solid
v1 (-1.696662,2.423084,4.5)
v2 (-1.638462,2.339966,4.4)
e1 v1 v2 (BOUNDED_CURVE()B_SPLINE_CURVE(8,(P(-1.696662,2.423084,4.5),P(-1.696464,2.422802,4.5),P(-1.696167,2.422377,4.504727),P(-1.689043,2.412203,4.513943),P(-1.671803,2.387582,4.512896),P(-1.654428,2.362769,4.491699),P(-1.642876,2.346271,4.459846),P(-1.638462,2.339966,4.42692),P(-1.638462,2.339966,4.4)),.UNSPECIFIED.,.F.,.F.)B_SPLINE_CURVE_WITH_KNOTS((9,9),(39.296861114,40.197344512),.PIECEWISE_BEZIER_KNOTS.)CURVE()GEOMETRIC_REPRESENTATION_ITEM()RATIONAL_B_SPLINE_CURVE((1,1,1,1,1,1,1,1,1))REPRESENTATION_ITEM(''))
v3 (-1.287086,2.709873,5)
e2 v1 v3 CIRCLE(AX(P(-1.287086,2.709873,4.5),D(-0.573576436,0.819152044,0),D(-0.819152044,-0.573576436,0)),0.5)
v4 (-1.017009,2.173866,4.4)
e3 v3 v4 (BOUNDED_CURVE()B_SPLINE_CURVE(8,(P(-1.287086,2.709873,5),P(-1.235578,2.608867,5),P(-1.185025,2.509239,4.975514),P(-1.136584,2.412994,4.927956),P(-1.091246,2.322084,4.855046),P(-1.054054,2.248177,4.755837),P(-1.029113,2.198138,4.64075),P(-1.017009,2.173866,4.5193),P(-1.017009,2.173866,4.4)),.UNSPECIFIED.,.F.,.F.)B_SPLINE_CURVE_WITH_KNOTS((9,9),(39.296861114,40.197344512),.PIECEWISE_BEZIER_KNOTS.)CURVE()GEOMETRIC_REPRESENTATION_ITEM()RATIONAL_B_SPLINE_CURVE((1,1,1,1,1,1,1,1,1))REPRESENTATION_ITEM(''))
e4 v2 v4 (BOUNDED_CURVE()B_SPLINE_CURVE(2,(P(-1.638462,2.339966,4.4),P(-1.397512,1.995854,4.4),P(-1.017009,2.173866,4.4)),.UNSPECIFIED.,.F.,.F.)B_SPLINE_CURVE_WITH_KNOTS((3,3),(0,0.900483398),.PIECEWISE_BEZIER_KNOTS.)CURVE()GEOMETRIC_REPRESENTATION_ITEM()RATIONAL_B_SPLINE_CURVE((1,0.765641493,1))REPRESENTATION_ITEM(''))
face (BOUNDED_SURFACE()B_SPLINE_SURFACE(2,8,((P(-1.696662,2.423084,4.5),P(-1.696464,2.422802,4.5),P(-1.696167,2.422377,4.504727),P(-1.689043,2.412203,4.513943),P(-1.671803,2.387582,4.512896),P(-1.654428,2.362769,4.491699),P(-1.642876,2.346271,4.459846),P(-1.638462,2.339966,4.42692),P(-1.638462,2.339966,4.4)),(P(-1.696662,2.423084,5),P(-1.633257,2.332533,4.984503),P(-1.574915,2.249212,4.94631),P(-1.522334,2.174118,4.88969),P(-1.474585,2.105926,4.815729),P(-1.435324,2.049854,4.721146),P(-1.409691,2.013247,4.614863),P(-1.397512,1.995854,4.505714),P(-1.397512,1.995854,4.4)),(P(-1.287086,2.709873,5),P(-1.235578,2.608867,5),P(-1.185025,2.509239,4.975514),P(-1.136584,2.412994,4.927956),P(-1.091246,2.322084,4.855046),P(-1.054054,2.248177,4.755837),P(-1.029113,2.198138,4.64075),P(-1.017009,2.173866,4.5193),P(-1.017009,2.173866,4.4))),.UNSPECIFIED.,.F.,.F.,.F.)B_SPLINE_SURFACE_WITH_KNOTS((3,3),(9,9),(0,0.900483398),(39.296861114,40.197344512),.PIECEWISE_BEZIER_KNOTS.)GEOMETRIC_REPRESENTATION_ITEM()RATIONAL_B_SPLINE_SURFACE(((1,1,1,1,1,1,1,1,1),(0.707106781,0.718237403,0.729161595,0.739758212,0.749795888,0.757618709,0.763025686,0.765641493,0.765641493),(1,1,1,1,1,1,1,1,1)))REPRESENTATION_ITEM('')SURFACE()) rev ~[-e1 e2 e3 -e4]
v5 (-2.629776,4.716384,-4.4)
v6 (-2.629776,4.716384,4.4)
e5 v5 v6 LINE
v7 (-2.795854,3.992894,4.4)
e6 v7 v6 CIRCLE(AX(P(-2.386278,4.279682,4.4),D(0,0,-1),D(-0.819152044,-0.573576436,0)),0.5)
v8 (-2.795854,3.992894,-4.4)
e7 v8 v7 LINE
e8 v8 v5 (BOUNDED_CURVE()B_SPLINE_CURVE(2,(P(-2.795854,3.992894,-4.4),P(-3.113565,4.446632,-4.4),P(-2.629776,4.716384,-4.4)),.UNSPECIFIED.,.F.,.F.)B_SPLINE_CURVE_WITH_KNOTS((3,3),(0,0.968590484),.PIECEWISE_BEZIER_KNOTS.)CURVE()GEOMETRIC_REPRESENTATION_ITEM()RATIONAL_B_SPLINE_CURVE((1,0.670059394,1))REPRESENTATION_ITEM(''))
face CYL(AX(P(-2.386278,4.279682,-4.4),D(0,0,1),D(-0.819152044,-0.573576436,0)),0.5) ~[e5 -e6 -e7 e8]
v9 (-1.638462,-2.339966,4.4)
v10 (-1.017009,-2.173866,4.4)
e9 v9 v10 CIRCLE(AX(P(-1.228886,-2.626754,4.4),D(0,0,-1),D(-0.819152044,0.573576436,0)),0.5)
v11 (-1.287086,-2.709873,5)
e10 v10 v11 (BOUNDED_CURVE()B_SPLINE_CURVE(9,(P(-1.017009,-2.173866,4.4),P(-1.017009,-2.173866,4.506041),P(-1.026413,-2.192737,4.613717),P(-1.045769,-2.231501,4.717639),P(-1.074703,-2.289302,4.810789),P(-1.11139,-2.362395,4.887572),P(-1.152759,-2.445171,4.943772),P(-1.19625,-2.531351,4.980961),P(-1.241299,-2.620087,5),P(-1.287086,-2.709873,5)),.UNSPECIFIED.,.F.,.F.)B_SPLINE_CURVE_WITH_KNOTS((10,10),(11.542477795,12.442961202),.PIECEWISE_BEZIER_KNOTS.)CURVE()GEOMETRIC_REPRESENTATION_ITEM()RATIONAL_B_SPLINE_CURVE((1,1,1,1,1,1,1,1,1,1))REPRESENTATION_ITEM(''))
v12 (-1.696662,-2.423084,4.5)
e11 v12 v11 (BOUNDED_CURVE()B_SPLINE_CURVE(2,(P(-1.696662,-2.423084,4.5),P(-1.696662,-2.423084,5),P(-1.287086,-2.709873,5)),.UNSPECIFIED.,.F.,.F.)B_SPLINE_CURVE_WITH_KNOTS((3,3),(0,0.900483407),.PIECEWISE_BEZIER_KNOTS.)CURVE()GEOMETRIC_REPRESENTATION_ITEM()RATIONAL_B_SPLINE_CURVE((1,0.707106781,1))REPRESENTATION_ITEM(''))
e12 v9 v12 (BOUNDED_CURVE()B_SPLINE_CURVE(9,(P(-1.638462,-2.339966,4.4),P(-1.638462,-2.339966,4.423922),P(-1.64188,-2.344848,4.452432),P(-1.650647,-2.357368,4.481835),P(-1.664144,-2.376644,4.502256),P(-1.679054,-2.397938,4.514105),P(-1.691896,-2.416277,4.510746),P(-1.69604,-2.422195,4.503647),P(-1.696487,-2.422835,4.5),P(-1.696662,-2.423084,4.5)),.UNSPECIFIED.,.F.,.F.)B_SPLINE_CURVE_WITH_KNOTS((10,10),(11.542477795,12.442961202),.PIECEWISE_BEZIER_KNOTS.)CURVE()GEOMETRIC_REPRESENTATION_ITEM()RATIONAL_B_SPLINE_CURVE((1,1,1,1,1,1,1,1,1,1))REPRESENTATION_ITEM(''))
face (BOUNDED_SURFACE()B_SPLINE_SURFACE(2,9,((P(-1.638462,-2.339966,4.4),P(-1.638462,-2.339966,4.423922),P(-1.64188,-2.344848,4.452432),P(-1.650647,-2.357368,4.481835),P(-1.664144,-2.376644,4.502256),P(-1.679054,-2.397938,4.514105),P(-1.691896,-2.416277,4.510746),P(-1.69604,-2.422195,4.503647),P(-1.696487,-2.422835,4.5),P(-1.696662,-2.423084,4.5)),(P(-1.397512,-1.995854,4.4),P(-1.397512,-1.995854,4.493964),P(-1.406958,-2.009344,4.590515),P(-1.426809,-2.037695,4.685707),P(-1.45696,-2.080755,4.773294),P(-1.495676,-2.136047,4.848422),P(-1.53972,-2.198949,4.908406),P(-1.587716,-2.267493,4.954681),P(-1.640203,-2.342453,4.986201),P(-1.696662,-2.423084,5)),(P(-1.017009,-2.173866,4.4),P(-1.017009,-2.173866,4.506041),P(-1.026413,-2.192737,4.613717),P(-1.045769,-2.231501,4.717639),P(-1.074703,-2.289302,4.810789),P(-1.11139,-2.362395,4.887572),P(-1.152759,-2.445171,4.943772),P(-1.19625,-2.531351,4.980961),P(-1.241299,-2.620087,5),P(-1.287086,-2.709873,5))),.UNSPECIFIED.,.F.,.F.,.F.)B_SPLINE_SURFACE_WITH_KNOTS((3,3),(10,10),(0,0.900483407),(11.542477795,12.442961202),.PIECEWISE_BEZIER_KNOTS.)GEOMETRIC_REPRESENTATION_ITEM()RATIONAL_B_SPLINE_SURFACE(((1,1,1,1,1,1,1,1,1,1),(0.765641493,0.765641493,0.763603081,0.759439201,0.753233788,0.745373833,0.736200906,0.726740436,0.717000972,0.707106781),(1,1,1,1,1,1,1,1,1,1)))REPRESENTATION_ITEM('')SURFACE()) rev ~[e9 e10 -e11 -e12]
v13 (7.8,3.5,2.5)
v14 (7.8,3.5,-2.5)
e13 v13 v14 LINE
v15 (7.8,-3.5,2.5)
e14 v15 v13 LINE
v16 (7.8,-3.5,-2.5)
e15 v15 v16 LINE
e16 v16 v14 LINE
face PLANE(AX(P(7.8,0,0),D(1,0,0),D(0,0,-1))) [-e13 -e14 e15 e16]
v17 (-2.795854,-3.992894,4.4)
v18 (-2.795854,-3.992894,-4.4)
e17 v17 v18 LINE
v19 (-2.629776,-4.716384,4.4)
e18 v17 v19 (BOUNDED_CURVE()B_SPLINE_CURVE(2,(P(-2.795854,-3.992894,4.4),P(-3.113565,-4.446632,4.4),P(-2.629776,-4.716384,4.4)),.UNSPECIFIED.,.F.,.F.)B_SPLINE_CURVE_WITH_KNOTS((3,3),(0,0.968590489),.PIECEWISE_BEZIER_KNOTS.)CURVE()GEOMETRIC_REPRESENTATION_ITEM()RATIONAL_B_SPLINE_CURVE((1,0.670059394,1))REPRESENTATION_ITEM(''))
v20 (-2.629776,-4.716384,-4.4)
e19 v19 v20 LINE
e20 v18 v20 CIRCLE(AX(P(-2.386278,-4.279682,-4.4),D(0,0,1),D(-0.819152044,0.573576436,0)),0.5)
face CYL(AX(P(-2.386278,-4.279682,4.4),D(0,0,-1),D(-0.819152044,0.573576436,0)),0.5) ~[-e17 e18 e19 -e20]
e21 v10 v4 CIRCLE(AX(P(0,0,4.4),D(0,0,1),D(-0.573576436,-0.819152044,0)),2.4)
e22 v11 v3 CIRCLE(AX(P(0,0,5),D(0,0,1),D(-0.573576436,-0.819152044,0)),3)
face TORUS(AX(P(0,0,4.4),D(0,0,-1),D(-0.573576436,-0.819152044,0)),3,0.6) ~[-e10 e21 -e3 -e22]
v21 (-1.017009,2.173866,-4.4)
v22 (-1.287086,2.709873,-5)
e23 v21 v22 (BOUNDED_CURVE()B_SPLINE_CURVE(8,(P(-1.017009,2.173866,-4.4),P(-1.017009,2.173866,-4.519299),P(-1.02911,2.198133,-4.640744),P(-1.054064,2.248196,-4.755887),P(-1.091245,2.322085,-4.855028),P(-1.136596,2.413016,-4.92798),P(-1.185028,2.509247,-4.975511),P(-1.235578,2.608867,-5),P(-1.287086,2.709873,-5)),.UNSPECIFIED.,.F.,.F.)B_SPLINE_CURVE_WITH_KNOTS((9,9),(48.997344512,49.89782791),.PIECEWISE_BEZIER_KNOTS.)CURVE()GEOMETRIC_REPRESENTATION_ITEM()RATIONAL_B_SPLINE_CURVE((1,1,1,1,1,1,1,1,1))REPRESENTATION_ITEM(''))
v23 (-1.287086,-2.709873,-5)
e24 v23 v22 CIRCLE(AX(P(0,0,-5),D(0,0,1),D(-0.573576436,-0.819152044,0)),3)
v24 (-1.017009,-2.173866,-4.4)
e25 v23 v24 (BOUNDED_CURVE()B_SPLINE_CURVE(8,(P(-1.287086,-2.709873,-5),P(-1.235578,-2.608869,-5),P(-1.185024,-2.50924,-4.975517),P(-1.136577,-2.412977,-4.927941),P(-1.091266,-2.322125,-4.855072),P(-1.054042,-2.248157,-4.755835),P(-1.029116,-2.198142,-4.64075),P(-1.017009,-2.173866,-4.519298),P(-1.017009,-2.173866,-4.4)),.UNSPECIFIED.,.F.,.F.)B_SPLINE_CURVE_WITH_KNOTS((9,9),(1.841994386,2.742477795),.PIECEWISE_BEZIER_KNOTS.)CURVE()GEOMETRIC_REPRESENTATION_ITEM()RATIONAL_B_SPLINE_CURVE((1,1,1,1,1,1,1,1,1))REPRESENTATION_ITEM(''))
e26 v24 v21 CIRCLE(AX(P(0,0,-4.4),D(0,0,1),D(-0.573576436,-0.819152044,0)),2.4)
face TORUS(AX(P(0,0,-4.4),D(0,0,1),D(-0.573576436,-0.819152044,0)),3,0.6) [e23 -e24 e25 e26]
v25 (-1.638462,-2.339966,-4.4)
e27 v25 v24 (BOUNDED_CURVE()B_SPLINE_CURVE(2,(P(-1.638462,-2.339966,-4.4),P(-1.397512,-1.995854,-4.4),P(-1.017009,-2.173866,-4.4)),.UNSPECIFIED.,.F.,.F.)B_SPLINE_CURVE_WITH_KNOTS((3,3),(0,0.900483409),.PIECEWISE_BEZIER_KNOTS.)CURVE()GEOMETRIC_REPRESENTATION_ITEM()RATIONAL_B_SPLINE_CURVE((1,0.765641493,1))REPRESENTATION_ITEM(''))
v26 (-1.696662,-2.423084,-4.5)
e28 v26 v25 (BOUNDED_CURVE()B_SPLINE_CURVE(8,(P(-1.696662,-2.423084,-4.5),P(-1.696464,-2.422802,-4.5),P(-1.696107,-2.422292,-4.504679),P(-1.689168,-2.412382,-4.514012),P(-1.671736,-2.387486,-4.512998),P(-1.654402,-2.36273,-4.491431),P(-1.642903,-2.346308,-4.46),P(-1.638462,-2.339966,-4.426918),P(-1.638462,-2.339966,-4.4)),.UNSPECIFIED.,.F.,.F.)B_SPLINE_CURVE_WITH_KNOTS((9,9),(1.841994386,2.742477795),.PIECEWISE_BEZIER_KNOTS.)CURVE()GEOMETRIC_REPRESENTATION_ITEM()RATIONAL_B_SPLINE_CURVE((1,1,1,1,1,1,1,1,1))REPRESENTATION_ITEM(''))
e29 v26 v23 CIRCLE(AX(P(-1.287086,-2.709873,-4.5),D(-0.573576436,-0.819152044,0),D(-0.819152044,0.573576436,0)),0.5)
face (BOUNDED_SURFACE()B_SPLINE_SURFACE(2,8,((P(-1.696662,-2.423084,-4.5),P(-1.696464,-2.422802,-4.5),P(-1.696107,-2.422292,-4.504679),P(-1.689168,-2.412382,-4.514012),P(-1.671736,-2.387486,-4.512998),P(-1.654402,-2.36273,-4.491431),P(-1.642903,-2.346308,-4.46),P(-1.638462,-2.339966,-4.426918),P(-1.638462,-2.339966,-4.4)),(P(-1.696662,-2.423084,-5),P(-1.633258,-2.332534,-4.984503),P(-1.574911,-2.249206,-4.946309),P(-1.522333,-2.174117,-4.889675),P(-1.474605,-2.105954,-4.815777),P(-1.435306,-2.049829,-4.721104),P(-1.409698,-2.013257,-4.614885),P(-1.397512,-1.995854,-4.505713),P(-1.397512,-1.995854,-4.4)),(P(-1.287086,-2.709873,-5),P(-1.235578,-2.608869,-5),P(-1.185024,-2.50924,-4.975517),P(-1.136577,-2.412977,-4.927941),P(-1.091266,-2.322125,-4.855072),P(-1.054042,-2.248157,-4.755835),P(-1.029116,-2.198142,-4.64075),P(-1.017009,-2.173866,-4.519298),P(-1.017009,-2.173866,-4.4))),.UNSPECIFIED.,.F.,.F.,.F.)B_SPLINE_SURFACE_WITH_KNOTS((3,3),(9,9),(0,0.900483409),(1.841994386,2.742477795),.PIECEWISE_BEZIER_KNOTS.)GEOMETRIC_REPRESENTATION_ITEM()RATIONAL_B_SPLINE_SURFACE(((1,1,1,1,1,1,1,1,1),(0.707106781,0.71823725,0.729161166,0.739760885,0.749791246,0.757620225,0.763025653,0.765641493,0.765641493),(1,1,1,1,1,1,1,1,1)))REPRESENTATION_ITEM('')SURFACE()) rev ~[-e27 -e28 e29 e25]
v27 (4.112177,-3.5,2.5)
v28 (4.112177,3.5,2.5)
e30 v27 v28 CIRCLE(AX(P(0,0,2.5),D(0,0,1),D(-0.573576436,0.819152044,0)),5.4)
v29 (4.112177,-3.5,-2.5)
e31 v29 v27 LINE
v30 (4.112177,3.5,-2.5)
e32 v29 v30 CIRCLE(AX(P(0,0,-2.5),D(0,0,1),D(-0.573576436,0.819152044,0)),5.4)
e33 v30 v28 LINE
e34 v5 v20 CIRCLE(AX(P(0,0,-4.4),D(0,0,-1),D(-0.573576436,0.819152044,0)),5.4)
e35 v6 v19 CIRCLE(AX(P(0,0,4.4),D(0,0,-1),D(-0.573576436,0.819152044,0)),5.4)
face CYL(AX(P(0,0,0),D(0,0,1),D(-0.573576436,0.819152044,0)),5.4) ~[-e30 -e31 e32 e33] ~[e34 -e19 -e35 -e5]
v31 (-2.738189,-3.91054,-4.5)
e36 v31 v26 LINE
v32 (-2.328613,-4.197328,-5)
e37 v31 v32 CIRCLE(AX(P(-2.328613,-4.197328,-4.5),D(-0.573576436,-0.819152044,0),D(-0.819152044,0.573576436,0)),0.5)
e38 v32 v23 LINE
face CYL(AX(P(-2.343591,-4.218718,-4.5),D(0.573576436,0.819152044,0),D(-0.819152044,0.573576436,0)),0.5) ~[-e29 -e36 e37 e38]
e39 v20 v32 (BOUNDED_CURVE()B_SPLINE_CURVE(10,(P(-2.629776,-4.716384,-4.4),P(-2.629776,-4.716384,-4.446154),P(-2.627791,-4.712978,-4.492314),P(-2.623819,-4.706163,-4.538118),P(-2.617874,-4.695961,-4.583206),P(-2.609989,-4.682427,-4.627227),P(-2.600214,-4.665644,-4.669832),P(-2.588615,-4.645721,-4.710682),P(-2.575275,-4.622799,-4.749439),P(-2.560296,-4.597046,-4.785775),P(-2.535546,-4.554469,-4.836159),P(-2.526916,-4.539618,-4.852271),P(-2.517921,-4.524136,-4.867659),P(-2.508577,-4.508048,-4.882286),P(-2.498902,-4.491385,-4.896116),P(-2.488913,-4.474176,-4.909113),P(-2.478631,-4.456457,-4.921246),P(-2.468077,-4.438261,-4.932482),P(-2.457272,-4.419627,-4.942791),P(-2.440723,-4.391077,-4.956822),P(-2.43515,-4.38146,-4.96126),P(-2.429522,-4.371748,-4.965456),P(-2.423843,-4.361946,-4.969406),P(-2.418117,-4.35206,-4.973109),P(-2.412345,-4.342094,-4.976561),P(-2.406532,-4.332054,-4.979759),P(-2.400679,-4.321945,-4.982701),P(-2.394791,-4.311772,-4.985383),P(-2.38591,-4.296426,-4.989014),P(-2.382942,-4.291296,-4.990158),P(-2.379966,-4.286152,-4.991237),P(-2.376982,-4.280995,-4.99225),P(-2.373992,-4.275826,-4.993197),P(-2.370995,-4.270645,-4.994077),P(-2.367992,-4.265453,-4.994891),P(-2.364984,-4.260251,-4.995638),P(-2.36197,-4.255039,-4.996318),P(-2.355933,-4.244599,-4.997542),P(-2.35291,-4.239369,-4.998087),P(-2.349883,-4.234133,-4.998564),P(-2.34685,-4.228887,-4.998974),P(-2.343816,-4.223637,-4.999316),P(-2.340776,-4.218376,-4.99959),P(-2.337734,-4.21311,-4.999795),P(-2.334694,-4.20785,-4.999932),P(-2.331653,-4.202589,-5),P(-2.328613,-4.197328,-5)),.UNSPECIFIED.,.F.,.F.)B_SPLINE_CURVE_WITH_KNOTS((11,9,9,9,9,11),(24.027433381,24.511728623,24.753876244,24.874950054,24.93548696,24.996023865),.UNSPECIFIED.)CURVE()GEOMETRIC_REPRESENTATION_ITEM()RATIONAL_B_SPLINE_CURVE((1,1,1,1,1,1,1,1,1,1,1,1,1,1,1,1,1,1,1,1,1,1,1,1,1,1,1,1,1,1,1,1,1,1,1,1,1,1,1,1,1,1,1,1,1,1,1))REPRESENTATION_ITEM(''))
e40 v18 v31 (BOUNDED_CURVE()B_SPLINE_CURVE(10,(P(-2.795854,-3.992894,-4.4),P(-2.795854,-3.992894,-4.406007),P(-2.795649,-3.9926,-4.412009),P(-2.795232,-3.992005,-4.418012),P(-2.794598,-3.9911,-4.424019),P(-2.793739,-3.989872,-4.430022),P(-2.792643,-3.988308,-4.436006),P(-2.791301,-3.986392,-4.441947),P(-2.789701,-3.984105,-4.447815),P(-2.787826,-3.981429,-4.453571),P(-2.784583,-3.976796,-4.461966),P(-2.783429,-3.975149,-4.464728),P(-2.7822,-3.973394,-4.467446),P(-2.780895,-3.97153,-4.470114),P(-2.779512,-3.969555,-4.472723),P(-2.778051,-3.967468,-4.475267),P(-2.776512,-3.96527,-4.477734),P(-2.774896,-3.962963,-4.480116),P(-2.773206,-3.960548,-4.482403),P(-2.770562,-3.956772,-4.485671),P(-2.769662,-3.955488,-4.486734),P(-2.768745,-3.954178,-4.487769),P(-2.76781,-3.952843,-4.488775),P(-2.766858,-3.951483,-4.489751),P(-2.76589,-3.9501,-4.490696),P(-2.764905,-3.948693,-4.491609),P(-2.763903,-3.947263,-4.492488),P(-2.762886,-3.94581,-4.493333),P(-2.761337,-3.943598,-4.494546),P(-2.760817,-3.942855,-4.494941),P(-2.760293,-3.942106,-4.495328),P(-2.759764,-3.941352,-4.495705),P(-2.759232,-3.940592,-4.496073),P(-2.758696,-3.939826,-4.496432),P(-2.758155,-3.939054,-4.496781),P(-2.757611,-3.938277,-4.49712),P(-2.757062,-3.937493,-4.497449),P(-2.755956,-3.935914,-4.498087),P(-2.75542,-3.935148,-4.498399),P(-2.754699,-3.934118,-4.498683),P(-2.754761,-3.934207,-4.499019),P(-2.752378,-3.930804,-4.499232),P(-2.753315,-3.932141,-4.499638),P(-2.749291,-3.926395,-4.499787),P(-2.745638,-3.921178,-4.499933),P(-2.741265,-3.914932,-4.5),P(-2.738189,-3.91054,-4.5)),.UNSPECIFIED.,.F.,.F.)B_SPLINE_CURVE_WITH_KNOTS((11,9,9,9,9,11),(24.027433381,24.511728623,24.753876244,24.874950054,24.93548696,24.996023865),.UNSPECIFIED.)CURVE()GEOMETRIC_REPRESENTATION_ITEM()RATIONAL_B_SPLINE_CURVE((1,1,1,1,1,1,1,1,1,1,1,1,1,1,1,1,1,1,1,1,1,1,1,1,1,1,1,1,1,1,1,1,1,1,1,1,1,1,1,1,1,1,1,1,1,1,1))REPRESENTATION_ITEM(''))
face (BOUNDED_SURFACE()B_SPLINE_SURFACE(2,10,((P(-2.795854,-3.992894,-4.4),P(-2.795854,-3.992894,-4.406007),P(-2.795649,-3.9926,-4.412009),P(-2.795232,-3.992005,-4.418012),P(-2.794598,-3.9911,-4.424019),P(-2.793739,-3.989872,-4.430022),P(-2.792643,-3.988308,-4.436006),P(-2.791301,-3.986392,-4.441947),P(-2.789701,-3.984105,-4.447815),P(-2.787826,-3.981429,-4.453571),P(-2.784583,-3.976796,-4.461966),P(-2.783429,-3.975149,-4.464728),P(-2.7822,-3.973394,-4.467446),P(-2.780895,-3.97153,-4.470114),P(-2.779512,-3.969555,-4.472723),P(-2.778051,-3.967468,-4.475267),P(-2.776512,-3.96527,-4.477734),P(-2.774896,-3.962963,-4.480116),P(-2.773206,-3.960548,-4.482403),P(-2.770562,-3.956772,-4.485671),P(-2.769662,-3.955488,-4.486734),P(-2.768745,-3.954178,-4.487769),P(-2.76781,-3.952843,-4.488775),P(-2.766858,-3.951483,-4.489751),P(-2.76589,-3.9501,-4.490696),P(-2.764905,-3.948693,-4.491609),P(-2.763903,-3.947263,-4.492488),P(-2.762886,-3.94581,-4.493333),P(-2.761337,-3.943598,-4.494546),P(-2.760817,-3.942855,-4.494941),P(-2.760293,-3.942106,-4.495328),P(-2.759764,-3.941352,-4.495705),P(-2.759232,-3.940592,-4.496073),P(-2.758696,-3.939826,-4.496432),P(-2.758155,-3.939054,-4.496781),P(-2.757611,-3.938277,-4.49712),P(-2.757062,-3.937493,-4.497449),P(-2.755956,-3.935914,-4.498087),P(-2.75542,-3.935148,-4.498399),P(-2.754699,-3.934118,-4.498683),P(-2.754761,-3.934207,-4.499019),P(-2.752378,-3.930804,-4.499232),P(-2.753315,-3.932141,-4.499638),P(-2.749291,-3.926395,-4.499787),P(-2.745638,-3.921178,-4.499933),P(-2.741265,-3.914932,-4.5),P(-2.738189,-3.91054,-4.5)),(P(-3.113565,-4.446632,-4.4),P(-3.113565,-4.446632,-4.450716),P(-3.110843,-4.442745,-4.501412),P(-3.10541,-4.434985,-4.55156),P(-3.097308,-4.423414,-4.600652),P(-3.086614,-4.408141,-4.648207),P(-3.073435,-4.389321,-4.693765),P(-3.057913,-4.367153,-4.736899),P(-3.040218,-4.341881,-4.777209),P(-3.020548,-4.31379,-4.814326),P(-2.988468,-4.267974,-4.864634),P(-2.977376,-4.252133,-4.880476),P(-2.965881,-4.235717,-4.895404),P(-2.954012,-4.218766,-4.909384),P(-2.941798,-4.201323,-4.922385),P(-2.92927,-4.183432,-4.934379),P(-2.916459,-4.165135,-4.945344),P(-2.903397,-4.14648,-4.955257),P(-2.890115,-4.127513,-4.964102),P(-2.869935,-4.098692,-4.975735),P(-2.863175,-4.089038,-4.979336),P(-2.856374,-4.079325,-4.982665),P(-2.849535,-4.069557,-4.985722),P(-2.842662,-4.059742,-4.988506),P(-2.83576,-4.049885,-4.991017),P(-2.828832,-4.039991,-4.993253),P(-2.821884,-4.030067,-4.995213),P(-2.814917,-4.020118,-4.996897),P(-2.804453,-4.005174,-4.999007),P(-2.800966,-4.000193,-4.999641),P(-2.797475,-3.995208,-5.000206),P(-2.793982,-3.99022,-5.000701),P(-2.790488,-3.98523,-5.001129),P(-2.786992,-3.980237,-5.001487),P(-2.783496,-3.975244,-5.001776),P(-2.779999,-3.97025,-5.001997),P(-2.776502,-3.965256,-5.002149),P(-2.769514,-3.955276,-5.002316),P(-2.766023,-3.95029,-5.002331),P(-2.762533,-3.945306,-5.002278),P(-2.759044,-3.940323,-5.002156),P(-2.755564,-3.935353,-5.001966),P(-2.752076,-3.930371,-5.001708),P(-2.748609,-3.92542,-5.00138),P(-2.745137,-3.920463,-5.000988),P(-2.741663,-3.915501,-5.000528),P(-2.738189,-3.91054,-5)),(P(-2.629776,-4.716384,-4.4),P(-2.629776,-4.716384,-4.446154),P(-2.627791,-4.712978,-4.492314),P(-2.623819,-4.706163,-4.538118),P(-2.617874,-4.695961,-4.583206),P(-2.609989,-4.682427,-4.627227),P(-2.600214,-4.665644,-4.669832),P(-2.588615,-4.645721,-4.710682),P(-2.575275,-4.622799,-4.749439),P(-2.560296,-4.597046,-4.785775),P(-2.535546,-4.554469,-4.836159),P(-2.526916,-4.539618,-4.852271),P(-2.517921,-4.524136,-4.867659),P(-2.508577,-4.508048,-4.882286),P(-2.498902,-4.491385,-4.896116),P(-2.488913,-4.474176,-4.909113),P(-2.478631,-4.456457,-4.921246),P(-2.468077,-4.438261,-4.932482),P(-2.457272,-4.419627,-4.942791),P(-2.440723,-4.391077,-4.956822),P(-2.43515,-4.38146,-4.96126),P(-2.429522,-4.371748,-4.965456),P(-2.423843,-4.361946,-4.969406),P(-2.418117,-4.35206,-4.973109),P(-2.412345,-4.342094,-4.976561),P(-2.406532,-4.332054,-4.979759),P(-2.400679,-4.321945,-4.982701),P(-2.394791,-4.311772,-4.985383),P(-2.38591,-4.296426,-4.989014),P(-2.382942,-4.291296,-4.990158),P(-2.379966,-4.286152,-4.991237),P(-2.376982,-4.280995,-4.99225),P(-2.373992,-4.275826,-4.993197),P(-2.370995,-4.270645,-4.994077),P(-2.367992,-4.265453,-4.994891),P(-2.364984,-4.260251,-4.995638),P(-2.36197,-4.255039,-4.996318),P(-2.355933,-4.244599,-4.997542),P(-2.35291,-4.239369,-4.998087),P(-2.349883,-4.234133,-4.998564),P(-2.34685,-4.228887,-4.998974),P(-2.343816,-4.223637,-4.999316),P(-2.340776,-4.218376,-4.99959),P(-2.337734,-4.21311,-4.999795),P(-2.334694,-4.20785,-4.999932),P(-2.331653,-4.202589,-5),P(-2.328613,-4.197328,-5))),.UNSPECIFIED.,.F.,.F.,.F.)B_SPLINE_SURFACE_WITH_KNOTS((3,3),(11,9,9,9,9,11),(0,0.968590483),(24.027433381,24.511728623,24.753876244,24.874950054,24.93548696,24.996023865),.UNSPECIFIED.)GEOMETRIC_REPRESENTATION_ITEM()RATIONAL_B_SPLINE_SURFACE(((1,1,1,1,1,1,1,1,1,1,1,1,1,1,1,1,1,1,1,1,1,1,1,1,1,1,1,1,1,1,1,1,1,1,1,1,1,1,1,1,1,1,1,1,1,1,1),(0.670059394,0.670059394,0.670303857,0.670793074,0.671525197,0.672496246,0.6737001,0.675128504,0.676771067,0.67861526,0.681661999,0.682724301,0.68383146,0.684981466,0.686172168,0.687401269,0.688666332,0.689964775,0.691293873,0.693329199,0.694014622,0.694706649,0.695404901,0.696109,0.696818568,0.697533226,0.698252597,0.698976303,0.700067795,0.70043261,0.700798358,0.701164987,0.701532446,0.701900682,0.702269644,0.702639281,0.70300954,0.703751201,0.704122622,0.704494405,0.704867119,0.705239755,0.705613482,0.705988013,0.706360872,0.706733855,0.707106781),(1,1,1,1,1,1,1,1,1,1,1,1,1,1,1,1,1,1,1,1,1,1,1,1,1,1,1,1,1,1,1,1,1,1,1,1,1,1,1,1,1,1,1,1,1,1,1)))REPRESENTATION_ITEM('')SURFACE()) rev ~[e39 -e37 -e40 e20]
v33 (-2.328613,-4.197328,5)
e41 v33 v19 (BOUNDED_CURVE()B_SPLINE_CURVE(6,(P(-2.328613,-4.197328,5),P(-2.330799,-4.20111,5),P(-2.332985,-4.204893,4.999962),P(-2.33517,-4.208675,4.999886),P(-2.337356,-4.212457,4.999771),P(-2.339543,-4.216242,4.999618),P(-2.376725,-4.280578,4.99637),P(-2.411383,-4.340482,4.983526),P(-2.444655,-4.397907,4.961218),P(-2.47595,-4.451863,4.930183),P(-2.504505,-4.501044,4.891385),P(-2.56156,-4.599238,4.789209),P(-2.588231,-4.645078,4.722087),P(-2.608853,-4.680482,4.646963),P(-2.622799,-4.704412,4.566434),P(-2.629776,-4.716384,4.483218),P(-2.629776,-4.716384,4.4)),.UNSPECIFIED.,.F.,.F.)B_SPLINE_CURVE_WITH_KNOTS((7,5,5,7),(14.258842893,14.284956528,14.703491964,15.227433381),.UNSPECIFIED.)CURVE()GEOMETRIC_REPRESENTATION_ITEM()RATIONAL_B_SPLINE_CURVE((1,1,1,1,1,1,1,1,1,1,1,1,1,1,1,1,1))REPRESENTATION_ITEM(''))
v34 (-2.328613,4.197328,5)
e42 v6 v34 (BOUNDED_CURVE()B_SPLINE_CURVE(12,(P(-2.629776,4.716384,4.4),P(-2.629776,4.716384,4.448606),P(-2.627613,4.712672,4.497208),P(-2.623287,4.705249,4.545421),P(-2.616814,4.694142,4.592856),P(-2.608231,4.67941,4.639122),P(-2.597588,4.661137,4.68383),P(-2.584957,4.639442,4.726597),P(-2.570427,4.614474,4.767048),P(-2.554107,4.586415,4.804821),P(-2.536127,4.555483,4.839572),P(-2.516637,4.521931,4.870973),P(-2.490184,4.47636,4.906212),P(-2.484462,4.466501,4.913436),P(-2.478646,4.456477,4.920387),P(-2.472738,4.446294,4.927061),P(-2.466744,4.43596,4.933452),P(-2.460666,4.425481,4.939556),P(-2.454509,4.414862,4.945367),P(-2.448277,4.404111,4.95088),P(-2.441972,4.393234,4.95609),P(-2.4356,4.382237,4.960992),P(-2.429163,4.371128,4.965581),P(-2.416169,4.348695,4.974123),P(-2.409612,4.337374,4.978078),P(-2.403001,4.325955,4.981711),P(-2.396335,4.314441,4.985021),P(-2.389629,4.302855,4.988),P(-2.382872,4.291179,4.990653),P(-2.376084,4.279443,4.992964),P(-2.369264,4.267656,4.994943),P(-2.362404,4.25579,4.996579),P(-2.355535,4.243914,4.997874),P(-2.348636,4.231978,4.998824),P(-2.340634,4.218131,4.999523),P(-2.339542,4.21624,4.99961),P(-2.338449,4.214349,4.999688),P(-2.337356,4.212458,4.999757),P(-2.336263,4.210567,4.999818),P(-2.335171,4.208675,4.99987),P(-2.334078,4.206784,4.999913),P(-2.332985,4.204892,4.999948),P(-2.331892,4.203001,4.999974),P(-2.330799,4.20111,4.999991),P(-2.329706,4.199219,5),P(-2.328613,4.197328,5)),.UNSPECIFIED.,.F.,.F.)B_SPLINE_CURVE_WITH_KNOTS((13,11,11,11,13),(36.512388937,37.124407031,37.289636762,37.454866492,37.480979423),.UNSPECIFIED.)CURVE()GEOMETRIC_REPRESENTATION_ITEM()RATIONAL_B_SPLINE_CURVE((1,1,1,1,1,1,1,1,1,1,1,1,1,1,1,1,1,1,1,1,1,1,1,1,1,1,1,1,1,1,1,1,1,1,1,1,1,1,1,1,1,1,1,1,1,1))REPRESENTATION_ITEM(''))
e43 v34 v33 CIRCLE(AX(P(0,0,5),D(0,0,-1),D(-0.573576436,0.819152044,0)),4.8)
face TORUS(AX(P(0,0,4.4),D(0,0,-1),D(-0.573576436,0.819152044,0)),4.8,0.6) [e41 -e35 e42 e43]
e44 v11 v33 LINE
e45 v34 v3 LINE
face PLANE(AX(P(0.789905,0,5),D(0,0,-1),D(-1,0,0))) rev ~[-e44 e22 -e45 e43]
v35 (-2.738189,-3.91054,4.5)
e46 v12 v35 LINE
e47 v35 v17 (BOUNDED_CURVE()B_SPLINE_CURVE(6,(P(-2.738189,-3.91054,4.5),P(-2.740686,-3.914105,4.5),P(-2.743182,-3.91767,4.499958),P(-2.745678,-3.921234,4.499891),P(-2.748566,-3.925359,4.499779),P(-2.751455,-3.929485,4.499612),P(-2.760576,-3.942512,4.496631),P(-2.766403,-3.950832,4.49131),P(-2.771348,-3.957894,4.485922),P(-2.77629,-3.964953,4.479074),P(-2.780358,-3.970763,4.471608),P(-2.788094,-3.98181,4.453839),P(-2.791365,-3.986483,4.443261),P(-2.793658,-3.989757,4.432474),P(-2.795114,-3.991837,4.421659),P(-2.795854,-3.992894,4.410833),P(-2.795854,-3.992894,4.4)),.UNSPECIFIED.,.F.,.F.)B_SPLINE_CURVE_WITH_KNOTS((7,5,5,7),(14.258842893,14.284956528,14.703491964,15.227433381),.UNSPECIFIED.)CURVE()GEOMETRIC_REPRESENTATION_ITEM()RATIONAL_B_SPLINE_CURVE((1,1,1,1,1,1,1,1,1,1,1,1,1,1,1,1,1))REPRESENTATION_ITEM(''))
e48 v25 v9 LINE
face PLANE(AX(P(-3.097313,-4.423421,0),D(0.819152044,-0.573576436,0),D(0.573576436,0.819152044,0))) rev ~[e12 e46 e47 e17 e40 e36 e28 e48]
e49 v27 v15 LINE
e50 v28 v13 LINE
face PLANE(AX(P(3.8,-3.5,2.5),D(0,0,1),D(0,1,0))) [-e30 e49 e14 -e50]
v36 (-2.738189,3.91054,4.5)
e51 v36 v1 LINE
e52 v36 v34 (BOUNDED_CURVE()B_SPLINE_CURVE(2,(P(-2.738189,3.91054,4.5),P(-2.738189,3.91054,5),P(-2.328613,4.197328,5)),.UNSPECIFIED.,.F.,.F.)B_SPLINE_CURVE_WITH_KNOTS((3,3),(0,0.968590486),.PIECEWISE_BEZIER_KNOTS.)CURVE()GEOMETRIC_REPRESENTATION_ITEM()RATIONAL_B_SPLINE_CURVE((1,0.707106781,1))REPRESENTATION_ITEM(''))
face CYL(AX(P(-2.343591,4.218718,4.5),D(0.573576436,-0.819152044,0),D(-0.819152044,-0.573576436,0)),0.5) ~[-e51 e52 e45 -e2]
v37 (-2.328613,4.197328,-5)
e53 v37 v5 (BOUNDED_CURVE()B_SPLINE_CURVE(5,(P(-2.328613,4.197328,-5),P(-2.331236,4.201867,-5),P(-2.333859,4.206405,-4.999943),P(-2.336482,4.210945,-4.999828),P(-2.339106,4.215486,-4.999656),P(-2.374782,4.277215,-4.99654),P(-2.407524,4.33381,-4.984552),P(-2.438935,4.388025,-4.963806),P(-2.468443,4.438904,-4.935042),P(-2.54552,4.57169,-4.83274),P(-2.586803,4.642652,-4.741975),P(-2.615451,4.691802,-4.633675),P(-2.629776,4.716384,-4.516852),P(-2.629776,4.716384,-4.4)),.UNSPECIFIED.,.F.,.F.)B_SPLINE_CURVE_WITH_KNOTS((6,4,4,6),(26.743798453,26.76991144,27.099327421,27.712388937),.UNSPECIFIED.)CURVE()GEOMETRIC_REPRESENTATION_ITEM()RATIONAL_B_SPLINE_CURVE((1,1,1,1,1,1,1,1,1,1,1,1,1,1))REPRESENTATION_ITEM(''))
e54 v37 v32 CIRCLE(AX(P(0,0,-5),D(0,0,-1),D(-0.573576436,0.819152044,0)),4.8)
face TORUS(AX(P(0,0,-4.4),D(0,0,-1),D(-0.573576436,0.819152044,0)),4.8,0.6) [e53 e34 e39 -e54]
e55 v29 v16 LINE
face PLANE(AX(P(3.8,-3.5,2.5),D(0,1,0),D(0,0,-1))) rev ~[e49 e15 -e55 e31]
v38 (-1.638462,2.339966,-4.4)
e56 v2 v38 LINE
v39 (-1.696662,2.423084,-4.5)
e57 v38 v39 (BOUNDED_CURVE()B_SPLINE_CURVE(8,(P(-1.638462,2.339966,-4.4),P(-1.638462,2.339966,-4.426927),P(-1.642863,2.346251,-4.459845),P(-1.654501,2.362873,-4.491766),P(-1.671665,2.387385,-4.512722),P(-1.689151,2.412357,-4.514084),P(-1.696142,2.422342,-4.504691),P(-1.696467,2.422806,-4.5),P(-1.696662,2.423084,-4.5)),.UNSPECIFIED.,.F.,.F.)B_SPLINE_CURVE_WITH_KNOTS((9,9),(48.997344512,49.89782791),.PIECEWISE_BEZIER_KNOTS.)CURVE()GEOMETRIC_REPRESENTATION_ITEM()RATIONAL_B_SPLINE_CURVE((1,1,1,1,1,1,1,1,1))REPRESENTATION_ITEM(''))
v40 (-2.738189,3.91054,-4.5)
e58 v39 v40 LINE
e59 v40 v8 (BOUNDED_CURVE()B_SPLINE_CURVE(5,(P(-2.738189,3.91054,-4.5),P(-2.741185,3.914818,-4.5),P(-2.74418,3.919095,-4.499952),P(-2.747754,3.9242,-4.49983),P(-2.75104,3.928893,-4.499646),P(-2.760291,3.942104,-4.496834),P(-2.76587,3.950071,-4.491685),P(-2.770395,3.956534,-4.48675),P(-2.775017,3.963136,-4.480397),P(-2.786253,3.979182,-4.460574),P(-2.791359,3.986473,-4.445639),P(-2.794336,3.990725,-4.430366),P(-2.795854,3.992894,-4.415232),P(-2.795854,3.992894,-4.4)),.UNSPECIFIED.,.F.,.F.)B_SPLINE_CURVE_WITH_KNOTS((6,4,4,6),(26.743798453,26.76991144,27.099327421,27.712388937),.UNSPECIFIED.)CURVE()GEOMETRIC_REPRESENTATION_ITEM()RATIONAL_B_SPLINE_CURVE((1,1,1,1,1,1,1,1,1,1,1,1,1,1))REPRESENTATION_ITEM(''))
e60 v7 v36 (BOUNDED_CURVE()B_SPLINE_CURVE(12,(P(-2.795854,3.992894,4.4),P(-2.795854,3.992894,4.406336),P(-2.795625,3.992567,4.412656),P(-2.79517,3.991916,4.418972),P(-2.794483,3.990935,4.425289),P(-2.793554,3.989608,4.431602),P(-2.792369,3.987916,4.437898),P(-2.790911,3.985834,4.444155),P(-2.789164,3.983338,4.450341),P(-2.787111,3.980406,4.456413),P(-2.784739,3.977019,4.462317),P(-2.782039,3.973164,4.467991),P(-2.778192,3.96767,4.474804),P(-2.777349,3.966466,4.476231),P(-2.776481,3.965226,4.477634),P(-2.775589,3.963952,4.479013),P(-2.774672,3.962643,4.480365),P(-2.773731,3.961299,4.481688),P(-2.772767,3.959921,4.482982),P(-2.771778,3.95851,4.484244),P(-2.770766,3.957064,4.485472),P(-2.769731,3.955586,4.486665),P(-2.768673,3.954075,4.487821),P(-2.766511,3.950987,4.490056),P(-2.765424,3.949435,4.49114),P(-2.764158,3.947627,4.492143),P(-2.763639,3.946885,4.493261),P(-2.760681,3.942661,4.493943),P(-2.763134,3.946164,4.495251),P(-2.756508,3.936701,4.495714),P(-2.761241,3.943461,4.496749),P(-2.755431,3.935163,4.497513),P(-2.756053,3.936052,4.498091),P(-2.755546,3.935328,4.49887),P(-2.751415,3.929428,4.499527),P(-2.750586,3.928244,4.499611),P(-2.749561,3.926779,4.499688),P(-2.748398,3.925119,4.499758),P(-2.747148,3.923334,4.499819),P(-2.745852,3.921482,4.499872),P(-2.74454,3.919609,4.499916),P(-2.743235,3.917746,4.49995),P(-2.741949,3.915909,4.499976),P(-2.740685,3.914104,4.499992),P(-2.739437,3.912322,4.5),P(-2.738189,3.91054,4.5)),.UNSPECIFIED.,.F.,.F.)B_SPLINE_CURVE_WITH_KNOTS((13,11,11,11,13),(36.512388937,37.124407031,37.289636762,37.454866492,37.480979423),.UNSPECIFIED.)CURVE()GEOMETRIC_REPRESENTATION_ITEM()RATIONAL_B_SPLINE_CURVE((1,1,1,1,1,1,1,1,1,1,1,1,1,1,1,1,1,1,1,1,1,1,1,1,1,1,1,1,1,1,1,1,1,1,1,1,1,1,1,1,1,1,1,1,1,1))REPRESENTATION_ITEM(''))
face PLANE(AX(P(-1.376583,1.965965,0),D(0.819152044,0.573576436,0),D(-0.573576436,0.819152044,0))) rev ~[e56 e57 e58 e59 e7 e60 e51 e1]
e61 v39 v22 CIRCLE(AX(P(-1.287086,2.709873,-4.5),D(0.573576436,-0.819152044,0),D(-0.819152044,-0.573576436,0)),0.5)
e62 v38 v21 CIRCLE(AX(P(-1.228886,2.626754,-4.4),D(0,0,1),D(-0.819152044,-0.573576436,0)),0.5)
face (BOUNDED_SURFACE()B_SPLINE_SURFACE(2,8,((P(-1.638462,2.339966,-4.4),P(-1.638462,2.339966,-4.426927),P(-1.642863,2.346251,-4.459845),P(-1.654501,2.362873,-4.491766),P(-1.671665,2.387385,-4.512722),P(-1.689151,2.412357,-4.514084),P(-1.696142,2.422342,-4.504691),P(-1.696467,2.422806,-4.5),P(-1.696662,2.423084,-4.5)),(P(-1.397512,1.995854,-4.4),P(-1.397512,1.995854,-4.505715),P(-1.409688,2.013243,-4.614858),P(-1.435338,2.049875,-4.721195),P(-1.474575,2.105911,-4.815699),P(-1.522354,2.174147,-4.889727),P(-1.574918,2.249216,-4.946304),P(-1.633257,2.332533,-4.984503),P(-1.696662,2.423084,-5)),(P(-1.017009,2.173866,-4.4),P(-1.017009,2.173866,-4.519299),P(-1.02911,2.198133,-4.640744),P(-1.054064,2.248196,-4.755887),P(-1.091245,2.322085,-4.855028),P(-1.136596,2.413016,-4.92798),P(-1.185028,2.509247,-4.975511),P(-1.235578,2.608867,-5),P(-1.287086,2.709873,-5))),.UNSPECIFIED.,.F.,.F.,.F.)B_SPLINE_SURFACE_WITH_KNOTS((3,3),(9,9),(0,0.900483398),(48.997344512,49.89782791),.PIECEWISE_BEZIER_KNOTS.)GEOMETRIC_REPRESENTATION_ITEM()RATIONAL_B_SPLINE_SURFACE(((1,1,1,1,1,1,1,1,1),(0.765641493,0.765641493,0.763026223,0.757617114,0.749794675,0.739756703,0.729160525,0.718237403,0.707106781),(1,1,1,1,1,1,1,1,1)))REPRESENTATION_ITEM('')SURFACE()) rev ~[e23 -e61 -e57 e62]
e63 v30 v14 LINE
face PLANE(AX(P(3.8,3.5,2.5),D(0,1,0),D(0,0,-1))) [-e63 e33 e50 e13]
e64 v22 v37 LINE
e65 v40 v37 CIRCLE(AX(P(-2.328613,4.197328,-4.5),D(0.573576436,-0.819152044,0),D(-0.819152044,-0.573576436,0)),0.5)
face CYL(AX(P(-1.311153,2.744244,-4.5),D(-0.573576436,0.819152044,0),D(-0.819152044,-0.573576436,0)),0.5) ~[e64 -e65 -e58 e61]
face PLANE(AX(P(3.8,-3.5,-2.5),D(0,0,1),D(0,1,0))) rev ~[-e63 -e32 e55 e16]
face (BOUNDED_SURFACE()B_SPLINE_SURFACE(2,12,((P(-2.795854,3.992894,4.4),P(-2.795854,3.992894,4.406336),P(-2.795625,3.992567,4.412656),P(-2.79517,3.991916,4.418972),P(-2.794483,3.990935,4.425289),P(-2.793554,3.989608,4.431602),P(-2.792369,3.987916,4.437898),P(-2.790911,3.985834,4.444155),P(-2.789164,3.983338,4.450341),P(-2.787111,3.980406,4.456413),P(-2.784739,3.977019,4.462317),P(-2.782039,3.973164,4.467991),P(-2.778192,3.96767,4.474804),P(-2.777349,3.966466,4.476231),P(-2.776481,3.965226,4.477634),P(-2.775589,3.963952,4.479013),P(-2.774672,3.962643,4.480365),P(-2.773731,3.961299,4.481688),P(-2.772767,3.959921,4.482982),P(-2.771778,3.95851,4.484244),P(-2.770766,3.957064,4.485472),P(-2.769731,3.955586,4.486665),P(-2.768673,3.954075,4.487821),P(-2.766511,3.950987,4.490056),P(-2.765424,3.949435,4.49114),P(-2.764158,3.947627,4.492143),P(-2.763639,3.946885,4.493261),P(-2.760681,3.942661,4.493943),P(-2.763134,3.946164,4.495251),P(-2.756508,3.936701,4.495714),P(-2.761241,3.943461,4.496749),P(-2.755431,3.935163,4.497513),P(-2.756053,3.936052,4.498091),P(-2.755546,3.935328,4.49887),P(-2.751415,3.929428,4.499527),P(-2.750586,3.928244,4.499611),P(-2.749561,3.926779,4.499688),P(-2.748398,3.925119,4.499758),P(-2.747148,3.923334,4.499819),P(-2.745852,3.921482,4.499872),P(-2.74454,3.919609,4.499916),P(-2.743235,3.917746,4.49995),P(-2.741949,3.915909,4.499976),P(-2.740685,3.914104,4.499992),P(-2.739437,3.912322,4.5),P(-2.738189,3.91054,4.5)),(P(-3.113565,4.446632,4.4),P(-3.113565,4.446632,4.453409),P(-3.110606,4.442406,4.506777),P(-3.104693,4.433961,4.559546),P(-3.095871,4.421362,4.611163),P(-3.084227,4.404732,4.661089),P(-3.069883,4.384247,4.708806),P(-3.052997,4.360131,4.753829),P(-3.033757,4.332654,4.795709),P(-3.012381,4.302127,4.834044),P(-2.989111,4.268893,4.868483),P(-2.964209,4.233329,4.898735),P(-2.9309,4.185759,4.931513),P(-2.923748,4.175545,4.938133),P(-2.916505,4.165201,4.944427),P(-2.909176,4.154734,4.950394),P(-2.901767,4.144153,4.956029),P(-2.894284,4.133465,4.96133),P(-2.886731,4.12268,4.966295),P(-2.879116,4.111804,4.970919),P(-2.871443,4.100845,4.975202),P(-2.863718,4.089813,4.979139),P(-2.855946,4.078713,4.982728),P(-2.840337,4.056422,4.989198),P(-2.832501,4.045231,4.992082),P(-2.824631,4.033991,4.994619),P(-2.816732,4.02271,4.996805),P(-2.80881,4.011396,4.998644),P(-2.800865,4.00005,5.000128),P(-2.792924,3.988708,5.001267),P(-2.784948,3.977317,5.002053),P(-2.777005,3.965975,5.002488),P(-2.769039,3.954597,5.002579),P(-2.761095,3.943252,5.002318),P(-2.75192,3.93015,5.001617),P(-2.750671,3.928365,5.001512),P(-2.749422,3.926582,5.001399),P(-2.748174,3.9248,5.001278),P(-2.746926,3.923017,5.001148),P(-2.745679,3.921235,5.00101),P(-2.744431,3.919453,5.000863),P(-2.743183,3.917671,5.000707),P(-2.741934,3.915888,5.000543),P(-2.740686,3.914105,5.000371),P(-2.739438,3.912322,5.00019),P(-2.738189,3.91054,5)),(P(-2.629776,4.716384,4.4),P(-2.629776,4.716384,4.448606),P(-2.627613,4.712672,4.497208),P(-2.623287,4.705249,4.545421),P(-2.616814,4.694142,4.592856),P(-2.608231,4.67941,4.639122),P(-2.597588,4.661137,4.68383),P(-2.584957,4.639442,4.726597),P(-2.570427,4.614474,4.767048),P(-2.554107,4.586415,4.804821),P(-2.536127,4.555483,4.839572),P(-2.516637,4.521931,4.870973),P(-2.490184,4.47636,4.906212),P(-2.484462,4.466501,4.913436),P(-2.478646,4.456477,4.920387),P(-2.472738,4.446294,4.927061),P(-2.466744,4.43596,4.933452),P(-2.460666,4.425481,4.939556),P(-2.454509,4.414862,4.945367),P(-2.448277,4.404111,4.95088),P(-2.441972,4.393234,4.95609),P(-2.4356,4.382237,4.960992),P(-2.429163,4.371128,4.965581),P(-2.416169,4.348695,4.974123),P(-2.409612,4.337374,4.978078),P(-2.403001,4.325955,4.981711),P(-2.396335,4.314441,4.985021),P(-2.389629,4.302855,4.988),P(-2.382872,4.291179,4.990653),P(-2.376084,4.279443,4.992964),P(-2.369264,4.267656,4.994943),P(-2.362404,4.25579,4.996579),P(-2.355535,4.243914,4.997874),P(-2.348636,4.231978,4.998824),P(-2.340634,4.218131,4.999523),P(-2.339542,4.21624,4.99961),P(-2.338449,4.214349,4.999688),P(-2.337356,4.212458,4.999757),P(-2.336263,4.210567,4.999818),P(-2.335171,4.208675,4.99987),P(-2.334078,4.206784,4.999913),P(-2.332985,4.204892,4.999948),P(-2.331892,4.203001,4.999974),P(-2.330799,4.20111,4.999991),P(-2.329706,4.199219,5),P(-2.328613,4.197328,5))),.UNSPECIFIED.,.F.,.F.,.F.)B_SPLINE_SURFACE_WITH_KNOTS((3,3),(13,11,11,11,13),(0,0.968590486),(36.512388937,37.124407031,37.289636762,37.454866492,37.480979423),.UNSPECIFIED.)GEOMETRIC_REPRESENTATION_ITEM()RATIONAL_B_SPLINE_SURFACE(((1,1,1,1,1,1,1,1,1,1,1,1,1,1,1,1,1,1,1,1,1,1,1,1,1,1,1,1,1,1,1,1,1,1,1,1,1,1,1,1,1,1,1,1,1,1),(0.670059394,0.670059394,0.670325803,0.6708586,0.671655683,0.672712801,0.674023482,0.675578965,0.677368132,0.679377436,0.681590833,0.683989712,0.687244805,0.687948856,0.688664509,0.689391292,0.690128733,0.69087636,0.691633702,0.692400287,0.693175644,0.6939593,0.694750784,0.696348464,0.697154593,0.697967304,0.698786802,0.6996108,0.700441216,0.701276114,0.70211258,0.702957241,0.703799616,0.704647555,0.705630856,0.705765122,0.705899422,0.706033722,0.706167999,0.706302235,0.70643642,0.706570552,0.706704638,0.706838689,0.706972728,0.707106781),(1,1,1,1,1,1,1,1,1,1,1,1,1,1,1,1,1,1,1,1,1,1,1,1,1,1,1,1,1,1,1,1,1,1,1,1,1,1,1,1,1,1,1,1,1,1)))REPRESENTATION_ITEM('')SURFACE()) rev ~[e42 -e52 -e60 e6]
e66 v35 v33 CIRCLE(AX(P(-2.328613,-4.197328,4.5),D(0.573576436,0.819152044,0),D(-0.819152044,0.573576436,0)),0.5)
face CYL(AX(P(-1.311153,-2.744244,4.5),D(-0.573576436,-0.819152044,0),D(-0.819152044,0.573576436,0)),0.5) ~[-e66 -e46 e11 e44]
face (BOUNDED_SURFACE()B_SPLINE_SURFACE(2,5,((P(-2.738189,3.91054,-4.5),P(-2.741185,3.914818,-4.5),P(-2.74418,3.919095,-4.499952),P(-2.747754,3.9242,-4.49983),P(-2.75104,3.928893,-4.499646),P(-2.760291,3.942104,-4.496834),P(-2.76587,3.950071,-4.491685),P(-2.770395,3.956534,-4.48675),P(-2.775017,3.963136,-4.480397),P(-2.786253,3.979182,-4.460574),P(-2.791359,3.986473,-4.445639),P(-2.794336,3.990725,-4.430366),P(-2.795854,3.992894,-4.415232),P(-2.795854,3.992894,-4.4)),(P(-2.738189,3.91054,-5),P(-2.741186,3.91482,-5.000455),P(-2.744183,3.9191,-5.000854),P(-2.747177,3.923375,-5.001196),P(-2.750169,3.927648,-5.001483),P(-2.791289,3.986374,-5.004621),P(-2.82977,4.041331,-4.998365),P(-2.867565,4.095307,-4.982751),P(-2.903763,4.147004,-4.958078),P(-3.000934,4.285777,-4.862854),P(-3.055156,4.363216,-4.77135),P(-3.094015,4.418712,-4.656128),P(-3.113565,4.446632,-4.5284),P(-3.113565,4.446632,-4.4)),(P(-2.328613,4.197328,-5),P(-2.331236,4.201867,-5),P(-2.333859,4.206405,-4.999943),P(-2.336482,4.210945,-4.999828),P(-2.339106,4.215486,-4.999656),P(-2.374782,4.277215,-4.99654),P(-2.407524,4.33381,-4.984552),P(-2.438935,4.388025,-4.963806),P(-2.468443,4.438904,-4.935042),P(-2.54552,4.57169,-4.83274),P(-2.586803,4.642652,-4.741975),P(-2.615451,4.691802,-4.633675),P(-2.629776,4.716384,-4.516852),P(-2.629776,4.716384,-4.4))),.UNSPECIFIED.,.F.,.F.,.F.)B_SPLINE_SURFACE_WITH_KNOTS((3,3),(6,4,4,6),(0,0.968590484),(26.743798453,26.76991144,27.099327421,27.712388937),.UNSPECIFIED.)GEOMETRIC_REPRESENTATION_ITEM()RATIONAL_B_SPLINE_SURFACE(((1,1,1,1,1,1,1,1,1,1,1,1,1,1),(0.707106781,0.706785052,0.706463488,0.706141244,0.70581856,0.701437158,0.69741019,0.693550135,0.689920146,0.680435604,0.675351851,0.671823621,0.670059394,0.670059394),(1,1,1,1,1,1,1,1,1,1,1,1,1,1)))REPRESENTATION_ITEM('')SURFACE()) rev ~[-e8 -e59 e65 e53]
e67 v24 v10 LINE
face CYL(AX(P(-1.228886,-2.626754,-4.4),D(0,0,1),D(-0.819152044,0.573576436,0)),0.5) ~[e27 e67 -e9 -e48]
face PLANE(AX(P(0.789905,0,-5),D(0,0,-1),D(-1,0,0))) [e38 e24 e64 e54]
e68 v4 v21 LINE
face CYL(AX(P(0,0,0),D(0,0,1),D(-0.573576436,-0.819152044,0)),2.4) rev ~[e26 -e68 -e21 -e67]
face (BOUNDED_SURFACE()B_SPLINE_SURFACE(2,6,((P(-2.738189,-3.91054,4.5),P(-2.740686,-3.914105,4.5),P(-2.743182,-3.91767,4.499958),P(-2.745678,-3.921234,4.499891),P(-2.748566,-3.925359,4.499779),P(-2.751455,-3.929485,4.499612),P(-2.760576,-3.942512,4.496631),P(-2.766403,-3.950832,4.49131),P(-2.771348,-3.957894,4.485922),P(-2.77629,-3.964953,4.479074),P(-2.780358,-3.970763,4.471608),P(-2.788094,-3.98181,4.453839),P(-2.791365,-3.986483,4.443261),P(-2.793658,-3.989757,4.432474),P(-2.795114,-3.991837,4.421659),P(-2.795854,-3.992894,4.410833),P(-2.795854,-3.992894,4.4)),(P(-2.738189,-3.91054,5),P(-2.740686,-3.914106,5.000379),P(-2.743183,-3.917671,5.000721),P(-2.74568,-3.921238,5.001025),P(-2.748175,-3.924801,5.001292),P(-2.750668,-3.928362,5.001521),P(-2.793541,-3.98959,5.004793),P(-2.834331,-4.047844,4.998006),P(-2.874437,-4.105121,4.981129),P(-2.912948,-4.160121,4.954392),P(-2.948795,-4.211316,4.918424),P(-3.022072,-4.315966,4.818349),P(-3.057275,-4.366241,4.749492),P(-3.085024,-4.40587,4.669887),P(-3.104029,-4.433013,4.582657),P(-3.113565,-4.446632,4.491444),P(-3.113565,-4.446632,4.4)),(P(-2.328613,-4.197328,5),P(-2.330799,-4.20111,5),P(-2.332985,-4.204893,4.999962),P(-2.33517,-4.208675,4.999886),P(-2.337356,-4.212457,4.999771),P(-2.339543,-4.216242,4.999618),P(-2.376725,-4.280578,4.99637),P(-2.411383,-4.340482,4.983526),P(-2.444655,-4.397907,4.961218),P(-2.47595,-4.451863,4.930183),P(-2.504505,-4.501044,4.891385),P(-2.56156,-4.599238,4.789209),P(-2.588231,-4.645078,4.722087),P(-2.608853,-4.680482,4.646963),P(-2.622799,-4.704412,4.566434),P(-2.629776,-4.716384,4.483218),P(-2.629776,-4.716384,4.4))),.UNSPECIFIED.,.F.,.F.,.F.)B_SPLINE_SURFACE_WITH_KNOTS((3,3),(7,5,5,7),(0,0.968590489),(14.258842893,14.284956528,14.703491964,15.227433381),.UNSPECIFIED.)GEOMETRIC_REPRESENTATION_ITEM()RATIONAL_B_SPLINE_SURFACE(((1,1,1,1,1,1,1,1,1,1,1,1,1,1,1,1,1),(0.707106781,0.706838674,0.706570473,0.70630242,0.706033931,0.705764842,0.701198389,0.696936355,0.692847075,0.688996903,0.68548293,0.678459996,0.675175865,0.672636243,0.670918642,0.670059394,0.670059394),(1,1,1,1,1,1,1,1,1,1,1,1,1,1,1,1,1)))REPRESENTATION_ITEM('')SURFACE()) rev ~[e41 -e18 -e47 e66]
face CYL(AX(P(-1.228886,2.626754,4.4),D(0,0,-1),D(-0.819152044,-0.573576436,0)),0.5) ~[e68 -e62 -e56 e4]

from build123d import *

# Parameters (mm, degrees)
EXTRUDE_THIN1_DEPTH = 5
FILLET1_R           = 0.6
FILLET2_R           = 0.5
BOSS_EXTRUDE1_START = 3.8
SKETCH2_W           = 5
SKETCH2_H           = 7
BOSS_EXTRUDE1_DEPTH = 4


with BuildPart() as part:
    # Sketch1 → Extrude-Thin1 (new, symmetric)
    with BuildSketch(Plane.XY):
        with BuildLine():
            ThreePointArc((-1.376583447, -1.965964906), (2.4, 0), (-1.376583447, 1.965964906))
            Line((-1.376583447, 1.965964906), (-3.097312756, 4.423421039))
            ThreePointArc((-3.097312756, 4.423421039), (5.4, 0), (-3.097312756, -4.423421039))
            Line((-3.097312756, -4.423421039), (-1.376583447, -1.965964906))
        make_face()
    extrude(amount=EXTRUDE_THIN1_DEPTH, both=True)

    # Fillet1
    fillet1_edges = [part.edges().sort_by_distance(p)[0] for p in [
        (2.4, 0, 5),
        (2.4, 0, -5),
        (5.4, 0, 5),
        (5.4, 0, -5),
    ]]
    fillet(fillet1_edges, radius=FILLET1_R)

    # Fillet2
    fillet2_edges = [part.edges().sort_by_distance(p)[0] for p in [
        (-2.236948102, -3.194692973, -5),
        (-2.236948102, 3.194692973, -5),
        (-1.376583447, 1.965964906, 0),
        (-2.236948102, 3.194692973, 5),
        (-3.097312756, 4.423421039, 0),
        (-2.996514767, 4.279466592, 4.824264069),
        (-2.996514767, 4.279466592, -4.824264069),
        (-1.477381436, 2.109919354, 4.824264069),
        (-1.477381436, 2.109919354, -4.824264069),
        (-1.376583447, -1.965964906, 0),
        (-3.097312756, -4.423421039, 0),
        (-2.236948102, -3.194692973, 5),
        (-2.996514767, -4.279466592, 4.824264069),
        (-2.996514767, -4.279466592, -4.824264069),
        (-1.477381436, -2.109919354, 4.824264069),
        (-1.477381436, -2.109919354, -4.824264069),
    ]]
    fillet(fillet2_edges, radius=FILLET2_R)

    # Sketch2 → Boss-Extrude1 (add)
    with BuildSketch(Plane(origin=(0, 0, 0), x_dir=(0, 0, -1), z_dir=(1, 0, 0)).offset(BOSS_EXTRUDE1_START)):
        Rectangle(SKETCH2_W, SKETCH2_H)
    extrude(amount=BOSS_EXTRUDE1_DEPTH)


solid = part.part
